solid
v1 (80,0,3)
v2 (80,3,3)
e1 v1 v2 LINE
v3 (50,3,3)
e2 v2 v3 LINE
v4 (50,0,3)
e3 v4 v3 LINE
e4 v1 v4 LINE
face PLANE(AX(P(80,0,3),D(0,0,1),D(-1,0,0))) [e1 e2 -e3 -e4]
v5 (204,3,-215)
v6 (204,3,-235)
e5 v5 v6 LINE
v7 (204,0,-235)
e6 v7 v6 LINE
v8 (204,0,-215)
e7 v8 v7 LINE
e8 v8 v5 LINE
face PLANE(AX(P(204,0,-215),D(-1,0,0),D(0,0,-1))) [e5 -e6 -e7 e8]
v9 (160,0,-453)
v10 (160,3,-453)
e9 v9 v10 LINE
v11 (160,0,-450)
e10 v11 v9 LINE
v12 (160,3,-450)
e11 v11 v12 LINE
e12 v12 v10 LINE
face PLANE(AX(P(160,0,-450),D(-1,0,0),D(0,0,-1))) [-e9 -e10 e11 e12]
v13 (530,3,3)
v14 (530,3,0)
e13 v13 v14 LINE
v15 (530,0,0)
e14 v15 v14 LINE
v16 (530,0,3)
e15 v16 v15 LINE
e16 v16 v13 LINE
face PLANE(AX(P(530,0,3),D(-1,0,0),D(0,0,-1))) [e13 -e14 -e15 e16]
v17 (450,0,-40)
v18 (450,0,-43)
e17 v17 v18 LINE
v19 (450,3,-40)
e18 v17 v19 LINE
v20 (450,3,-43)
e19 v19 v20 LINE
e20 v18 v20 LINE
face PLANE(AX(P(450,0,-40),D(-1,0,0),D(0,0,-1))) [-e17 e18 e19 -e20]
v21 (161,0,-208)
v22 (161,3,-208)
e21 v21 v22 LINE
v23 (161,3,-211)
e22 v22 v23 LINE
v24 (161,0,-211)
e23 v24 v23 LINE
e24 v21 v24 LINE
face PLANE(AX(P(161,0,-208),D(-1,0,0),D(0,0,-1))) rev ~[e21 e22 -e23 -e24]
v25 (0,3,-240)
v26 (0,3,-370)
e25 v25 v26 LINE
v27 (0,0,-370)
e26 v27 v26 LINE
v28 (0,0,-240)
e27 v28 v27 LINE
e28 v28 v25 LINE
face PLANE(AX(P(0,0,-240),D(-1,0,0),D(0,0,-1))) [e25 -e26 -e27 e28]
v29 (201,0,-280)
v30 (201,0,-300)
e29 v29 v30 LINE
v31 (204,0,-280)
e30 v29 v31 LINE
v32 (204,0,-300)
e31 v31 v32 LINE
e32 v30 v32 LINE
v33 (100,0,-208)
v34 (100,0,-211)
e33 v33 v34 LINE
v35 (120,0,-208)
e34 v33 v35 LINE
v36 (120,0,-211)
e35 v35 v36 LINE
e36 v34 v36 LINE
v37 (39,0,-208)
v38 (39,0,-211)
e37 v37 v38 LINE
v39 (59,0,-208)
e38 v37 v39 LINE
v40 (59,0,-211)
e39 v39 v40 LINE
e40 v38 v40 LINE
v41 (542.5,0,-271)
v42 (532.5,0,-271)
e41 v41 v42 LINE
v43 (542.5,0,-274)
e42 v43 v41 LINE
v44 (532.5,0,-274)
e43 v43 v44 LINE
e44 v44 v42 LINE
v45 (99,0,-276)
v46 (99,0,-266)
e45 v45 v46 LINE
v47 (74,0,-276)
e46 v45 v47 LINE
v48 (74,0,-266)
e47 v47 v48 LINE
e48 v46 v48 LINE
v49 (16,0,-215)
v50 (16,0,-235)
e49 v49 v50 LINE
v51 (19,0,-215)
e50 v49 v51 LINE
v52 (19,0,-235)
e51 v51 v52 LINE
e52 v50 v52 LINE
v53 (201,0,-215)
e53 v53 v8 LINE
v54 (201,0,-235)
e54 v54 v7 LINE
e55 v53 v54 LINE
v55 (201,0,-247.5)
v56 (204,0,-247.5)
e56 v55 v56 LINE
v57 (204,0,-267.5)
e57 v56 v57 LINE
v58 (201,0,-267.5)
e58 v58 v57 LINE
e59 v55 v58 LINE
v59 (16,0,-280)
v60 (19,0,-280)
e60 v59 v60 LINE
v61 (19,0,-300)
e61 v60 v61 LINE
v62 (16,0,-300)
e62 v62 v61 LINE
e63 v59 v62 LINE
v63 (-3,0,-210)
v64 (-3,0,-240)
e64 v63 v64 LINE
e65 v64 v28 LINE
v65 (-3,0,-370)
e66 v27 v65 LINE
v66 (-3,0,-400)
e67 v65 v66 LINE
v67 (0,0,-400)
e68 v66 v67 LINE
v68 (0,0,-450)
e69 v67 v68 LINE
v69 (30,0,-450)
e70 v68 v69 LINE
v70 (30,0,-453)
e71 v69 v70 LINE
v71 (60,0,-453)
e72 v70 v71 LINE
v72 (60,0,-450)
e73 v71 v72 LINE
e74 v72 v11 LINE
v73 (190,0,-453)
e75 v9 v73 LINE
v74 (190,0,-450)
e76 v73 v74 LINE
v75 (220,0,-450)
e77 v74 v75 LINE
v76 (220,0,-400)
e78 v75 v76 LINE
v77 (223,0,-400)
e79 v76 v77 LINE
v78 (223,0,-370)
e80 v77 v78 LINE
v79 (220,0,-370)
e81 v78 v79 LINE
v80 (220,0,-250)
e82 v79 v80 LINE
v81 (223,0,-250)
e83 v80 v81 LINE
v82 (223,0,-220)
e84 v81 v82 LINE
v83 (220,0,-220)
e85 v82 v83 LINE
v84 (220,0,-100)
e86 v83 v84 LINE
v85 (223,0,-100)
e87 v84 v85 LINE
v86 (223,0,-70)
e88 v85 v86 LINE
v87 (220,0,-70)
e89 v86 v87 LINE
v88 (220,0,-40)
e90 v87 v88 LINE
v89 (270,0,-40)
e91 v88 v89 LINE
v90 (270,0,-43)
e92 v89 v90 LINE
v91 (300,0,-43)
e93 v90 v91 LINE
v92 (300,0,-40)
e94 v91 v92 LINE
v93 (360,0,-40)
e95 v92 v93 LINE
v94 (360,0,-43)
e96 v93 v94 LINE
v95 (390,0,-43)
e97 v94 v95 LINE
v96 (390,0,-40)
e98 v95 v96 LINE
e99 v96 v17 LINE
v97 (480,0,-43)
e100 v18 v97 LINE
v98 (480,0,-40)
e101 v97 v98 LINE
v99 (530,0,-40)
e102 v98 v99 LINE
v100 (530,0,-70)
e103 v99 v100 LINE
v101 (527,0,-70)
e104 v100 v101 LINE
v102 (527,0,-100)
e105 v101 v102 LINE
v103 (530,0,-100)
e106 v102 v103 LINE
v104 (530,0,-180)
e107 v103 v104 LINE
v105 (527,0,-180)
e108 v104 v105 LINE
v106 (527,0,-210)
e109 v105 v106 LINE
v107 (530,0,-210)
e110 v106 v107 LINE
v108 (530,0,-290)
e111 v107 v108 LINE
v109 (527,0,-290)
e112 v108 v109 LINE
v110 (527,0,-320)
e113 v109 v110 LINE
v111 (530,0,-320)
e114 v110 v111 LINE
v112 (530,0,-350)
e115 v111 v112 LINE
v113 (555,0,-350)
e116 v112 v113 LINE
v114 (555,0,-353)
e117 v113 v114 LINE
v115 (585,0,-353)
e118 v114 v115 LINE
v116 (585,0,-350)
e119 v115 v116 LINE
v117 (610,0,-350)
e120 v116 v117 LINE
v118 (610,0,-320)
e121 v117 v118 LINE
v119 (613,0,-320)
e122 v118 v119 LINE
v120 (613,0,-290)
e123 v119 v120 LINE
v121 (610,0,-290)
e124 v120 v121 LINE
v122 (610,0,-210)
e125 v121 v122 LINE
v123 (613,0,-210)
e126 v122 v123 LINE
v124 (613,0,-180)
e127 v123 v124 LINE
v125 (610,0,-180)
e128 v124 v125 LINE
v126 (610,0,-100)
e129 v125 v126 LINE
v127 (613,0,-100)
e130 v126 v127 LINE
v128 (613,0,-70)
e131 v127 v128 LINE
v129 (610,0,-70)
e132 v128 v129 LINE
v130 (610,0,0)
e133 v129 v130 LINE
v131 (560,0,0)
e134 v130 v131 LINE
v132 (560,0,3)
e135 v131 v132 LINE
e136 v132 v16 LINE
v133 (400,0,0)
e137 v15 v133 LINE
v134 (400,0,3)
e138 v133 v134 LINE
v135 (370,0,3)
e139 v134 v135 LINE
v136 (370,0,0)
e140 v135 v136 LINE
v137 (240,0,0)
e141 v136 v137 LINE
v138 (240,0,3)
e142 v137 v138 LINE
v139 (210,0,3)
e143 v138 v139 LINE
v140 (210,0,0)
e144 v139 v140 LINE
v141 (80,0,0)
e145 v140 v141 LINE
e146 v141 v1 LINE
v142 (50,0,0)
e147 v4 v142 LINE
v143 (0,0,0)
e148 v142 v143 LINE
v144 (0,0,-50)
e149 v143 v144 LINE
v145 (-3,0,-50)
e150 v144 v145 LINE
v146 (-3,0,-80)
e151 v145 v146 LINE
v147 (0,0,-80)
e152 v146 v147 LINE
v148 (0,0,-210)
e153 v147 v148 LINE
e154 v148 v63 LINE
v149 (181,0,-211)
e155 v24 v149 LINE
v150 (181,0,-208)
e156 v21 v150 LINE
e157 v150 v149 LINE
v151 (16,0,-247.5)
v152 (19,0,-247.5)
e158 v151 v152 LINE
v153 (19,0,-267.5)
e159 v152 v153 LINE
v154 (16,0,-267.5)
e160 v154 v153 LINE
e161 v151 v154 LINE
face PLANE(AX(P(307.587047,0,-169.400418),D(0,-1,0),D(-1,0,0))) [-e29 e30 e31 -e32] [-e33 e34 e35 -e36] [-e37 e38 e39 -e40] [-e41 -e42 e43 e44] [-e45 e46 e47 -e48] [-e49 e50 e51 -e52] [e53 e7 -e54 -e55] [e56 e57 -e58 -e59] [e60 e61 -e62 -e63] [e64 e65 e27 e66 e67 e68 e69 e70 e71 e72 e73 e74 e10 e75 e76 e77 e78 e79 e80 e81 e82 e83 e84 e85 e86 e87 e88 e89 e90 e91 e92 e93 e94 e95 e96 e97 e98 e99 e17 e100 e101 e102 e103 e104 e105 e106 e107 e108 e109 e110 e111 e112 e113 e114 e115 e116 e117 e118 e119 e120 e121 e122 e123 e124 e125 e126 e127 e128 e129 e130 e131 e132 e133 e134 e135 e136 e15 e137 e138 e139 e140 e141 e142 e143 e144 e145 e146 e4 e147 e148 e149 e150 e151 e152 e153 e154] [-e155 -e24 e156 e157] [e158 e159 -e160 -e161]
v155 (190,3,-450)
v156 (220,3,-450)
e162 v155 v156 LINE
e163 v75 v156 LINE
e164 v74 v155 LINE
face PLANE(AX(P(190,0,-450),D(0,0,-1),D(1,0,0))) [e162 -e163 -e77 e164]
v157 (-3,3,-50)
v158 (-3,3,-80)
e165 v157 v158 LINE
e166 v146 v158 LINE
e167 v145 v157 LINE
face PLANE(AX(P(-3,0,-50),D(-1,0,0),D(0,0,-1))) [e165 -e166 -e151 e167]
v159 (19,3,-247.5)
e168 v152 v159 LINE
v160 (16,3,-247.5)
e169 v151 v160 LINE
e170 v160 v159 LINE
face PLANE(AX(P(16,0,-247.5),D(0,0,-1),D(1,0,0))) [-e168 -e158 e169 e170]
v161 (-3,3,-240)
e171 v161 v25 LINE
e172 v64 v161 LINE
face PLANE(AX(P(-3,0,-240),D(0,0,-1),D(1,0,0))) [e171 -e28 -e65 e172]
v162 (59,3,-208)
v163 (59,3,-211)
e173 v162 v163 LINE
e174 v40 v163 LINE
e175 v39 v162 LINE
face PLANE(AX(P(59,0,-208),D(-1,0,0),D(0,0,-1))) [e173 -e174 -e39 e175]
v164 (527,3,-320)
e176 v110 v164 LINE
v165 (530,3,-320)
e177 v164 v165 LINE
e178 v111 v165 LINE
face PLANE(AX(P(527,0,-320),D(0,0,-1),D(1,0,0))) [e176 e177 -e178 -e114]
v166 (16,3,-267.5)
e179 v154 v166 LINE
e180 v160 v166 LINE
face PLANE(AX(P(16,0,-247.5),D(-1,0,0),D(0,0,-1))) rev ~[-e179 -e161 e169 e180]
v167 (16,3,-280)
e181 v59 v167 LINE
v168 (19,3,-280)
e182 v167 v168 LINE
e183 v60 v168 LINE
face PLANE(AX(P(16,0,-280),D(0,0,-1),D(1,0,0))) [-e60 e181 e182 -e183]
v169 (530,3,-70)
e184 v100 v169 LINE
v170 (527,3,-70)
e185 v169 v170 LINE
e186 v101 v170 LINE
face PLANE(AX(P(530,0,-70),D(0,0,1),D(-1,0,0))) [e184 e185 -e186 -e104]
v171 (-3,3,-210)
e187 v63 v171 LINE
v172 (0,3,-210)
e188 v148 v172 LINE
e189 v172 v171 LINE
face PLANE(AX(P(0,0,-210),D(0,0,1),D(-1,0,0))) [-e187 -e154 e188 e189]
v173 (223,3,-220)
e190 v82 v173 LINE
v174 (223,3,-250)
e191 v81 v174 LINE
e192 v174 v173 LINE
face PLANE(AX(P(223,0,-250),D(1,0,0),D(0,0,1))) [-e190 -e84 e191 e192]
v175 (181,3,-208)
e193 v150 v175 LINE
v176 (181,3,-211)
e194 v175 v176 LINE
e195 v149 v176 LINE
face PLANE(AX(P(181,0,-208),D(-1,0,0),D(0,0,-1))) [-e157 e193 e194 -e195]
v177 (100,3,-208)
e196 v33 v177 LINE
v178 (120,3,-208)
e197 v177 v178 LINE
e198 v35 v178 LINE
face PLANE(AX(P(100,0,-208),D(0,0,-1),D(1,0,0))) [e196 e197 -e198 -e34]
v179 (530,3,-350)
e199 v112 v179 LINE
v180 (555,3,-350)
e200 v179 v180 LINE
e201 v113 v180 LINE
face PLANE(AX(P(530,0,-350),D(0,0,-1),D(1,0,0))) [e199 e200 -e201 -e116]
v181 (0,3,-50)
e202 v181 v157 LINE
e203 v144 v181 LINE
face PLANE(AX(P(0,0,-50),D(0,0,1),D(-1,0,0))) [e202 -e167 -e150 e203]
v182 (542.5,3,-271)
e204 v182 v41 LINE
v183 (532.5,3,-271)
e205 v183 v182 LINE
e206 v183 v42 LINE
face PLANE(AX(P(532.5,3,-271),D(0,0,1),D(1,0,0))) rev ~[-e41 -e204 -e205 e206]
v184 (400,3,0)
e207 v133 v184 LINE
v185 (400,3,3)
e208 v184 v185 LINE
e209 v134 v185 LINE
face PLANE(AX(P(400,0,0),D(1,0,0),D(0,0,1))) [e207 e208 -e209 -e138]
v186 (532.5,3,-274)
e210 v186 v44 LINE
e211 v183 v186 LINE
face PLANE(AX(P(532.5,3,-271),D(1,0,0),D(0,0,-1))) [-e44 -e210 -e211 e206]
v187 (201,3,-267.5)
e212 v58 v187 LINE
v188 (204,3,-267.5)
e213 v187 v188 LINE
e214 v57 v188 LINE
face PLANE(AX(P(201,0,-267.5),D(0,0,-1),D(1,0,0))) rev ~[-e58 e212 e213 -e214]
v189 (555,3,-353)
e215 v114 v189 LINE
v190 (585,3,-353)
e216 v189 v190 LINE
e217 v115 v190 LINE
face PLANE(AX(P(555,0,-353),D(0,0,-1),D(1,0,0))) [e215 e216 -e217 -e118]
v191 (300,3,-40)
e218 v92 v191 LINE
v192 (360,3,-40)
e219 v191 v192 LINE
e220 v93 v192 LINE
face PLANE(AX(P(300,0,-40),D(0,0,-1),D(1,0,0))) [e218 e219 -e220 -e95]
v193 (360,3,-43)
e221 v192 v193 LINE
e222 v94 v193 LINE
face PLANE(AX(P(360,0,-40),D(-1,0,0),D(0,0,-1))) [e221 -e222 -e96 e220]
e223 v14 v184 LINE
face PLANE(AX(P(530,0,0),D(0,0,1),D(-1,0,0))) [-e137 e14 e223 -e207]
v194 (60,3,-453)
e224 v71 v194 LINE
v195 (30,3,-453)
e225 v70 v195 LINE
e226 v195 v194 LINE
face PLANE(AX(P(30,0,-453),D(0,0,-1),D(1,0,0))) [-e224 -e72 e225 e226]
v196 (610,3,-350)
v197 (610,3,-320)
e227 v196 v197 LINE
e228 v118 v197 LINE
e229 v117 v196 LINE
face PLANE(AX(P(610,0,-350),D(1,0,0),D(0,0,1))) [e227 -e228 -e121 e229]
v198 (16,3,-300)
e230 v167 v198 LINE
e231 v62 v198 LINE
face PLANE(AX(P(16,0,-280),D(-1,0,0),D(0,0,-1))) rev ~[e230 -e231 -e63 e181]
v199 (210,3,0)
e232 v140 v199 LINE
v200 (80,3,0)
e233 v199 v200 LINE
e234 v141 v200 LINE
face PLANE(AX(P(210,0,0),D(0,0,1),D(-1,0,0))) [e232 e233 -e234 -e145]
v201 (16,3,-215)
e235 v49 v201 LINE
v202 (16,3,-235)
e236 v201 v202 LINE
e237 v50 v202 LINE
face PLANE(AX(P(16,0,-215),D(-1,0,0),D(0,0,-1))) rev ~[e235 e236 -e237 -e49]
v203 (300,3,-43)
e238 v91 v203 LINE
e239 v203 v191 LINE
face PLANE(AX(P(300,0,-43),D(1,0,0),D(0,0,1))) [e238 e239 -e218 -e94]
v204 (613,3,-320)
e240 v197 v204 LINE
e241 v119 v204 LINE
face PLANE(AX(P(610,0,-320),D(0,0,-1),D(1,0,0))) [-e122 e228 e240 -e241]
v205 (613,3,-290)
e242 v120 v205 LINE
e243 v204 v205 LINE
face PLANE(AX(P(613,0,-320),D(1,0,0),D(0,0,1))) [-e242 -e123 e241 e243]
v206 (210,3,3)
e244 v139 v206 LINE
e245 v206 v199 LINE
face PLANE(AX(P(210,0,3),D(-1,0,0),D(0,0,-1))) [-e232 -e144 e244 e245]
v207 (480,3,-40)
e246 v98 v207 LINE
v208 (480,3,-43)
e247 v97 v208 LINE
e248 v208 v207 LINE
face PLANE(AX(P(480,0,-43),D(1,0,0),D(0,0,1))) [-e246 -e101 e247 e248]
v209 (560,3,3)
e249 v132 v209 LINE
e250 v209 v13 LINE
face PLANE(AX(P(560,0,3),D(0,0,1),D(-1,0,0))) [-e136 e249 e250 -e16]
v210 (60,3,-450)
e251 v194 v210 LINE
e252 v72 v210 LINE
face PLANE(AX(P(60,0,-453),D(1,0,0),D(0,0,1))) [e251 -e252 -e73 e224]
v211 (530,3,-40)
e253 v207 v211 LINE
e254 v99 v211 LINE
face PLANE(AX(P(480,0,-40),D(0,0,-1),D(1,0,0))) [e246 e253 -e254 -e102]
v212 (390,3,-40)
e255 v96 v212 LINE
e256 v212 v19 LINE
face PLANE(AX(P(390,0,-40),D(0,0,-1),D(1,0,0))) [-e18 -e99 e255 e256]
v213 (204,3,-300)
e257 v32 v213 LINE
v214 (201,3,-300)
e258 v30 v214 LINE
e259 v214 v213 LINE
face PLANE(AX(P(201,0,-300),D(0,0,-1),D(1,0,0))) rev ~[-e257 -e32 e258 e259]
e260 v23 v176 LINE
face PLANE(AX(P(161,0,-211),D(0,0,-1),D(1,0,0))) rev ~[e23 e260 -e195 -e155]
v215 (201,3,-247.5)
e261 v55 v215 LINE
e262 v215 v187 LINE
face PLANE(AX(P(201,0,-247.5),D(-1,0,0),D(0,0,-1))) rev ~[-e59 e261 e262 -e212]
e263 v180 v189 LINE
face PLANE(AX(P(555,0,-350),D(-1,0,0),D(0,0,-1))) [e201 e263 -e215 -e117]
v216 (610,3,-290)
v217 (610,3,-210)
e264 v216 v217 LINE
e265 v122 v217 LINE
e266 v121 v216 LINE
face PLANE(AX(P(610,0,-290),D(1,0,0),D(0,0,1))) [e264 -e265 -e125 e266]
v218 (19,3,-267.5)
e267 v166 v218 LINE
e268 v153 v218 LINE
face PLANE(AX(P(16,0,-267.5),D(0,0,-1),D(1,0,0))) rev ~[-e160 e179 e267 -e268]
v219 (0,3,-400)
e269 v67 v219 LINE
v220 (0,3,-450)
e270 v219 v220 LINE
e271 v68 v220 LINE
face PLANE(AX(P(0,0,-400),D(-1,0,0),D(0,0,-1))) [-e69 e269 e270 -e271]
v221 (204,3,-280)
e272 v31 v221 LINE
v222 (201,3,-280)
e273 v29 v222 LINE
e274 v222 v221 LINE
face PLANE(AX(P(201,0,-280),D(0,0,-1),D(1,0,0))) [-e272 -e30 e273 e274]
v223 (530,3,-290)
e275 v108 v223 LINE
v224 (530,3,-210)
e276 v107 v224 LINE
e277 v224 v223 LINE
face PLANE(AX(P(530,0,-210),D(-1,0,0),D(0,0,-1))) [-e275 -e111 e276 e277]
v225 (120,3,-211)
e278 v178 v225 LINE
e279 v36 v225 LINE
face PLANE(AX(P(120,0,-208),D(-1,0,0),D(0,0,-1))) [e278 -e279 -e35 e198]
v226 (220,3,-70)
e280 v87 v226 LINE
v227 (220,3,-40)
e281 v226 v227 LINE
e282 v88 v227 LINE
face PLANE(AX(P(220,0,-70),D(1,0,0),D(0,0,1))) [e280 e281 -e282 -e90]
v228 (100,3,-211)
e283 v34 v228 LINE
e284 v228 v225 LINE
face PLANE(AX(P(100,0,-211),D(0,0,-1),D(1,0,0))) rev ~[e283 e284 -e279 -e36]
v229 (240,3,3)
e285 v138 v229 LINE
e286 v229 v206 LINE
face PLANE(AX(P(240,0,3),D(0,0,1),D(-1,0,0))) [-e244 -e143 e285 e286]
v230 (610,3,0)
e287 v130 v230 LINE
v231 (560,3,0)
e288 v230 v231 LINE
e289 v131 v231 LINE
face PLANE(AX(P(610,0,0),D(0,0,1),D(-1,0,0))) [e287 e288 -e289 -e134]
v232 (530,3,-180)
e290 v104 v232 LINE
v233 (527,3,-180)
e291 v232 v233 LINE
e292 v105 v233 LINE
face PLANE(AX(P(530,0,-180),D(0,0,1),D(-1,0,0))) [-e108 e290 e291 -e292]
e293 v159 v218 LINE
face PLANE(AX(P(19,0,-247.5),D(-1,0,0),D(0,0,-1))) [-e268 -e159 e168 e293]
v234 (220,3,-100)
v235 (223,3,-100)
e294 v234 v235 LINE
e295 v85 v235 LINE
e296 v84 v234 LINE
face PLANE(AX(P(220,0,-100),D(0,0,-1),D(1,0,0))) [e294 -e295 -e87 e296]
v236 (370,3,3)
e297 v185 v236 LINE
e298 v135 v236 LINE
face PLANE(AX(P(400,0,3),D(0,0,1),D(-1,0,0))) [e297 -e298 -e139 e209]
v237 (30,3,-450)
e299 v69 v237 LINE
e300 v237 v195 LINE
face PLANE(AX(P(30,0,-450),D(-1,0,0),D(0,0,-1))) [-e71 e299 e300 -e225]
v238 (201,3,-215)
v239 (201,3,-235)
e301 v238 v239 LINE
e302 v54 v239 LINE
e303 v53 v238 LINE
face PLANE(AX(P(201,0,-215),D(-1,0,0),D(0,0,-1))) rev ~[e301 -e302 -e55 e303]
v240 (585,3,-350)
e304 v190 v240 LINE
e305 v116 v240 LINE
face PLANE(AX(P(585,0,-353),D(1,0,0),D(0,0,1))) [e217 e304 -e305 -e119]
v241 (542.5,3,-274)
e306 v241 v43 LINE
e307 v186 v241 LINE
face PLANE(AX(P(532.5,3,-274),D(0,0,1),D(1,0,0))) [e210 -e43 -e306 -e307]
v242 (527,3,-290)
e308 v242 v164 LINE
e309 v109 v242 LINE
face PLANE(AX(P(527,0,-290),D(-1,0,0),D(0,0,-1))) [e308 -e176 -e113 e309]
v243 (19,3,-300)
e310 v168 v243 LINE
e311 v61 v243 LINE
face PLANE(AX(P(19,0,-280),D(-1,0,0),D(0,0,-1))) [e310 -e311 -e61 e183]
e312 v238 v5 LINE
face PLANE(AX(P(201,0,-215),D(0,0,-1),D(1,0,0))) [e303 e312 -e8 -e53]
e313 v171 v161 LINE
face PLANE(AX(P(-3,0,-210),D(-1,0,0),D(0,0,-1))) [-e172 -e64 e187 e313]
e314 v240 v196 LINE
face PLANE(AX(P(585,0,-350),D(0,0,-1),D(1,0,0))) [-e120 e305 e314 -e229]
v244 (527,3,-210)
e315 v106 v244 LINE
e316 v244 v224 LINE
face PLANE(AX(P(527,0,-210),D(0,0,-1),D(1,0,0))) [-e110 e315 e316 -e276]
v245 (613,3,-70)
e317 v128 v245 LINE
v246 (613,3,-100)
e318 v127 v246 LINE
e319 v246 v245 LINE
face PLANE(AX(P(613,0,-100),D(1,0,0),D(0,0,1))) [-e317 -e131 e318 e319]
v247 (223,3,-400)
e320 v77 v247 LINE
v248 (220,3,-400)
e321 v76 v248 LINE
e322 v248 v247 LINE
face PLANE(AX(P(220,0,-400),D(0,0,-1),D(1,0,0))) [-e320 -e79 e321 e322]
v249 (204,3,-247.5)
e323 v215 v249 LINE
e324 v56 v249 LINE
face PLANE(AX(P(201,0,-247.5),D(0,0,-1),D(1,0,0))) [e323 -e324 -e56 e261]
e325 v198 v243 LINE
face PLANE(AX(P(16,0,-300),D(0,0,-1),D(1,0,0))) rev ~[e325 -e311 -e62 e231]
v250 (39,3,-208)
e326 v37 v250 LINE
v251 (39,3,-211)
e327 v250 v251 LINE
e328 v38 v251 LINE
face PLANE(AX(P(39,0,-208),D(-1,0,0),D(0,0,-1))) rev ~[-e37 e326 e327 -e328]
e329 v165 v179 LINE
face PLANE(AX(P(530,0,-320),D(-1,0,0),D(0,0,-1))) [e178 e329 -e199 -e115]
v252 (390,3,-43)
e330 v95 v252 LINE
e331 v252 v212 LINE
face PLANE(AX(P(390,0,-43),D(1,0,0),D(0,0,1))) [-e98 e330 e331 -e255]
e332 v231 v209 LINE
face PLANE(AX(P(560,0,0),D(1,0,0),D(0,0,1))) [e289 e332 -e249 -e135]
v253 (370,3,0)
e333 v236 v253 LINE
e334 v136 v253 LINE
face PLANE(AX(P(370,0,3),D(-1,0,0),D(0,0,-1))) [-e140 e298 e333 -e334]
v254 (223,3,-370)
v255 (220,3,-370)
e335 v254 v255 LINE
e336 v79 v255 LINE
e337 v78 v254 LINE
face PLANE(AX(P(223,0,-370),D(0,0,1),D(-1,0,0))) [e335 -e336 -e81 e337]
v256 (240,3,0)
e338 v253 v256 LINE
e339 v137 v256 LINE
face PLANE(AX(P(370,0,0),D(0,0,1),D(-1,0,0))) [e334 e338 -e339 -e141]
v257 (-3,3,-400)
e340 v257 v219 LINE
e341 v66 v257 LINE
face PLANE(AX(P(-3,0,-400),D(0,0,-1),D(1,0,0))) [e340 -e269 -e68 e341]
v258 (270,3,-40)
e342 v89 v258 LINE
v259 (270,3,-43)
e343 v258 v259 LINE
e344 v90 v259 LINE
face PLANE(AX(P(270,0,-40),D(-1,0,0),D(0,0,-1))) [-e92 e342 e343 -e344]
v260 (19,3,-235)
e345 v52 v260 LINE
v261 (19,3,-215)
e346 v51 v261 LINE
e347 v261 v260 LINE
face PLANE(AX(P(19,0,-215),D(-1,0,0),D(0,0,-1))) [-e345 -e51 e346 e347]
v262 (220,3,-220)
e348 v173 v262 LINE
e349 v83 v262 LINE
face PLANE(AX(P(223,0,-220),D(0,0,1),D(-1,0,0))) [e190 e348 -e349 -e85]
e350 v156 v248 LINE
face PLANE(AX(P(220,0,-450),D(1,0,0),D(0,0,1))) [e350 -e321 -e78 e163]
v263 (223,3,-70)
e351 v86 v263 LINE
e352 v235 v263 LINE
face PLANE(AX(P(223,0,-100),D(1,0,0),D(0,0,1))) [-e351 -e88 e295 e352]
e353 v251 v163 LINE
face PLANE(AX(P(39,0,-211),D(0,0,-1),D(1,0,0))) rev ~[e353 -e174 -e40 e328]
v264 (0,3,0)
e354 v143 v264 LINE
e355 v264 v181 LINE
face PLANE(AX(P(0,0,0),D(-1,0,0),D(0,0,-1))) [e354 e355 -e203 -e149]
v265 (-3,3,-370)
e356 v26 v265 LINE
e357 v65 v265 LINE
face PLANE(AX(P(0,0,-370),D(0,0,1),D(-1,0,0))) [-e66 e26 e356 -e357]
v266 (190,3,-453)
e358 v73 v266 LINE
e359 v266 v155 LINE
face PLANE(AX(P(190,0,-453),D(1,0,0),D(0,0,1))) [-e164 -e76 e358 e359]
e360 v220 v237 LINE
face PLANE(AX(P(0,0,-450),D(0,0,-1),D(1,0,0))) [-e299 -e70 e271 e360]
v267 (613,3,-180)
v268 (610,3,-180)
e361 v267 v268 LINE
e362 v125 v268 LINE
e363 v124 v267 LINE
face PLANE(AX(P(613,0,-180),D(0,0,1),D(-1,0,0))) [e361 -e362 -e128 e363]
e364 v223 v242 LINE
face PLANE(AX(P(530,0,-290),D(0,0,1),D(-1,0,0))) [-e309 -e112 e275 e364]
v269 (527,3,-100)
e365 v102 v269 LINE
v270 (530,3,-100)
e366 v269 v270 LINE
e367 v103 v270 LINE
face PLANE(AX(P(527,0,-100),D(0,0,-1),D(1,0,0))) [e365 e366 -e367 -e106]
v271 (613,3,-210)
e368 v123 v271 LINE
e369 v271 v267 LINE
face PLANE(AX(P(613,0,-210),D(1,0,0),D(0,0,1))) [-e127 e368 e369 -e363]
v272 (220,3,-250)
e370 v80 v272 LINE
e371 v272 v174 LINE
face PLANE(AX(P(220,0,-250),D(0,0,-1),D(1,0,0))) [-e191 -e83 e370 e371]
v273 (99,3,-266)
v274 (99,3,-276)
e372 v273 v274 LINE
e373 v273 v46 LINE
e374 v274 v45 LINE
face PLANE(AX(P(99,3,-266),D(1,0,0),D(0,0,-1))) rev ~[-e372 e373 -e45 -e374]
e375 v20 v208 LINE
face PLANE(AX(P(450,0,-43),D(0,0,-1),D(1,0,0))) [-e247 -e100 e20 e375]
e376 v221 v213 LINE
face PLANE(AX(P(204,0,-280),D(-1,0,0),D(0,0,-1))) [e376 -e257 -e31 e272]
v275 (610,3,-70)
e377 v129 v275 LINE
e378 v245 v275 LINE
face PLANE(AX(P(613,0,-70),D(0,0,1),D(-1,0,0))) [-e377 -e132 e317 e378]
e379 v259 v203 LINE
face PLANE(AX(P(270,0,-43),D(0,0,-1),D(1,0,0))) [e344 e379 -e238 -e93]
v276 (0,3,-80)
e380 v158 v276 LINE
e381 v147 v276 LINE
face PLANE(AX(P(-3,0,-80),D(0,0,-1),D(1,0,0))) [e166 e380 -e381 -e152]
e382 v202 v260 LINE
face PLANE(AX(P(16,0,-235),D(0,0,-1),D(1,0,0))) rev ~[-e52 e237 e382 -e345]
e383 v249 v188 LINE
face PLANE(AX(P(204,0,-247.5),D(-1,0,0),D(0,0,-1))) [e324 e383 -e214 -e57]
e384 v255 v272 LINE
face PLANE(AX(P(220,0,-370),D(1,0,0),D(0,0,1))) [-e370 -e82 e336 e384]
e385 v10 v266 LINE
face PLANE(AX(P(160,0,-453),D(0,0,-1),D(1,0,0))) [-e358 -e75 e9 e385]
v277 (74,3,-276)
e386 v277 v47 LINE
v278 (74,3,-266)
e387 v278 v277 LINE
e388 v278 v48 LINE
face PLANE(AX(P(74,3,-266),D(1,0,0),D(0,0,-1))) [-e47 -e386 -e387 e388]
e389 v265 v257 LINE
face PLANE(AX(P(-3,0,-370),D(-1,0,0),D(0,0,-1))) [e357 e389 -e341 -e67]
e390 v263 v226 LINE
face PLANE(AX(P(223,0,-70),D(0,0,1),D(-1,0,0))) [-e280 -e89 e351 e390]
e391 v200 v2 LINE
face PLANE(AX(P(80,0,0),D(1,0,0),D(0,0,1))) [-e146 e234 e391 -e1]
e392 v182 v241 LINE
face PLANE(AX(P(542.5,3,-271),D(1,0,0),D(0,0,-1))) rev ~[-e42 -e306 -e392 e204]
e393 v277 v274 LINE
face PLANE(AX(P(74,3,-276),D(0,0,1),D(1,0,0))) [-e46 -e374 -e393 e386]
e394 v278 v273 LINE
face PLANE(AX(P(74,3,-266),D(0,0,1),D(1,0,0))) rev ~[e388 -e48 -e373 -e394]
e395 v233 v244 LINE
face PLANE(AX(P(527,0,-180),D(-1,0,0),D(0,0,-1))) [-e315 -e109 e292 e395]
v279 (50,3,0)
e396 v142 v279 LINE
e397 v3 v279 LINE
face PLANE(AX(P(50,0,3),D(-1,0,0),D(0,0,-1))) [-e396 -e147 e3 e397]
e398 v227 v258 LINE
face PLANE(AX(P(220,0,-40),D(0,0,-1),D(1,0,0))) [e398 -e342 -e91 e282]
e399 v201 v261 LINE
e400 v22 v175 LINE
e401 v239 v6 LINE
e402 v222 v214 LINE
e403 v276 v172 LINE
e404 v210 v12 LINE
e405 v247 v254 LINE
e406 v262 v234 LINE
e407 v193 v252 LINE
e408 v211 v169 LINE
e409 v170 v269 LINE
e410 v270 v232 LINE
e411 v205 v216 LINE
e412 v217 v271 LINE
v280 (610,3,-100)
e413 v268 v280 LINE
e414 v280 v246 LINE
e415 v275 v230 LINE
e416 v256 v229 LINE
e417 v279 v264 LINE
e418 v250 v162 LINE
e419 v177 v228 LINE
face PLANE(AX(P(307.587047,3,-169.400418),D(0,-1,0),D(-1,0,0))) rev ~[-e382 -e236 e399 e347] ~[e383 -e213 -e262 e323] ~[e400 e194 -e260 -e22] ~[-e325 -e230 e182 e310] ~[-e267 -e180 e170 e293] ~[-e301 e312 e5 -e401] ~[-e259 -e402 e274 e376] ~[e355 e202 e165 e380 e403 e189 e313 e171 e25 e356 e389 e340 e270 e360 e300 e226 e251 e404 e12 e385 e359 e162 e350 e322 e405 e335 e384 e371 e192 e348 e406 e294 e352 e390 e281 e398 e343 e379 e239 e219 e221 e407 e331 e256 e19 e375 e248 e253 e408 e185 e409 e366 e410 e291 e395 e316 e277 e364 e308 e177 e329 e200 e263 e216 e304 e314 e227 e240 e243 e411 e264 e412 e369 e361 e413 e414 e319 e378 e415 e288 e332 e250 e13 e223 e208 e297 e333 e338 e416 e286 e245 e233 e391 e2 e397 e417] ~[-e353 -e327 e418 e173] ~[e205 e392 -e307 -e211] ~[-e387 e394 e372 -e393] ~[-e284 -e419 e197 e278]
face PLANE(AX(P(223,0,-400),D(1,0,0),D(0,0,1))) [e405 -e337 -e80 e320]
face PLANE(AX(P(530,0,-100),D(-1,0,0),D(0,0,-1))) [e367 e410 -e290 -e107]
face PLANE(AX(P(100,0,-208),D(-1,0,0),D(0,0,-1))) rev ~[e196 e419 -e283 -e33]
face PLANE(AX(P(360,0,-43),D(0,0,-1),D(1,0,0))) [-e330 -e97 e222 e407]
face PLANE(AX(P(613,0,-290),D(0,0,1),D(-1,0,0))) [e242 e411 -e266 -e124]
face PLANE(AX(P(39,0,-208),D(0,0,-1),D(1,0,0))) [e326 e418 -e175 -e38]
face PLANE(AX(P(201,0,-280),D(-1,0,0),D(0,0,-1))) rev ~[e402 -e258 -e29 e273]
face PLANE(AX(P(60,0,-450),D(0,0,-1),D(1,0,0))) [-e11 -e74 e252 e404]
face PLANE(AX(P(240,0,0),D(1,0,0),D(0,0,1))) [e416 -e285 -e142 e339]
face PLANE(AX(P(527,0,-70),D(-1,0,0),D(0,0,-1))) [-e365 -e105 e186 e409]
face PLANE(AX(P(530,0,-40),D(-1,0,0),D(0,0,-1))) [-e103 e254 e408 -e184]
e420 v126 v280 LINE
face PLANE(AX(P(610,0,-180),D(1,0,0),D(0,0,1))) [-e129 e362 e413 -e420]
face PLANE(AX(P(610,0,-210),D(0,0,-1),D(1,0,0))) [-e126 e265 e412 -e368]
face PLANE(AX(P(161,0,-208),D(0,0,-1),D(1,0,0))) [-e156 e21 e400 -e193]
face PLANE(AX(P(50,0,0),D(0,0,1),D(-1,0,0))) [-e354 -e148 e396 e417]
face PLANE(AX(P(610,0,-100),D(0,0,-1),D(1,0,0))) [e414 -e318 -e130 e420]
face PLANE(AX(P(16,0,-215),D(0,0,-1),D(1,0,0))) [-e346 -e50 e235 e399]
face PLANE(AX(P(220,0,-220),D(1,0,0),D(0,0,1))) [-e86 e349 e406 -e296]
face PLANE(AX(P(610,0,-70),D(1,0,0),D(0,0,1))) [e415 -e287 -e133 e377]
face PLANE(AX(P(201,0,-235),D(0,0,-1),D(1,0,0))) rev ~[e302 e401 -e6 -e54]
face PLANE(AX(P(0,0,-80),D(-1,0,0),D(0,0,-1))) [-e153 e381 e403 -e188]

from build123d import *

# Parameters (mm, degrees)
SKETCH1_W           = 20
SKETCH1_H           = 3
SKETCH1_W_2         = 3
SKETCH1_H_2         = 20
BOSS_EXTRUDE1_DEPTH = 3
SKETCH2_W           = 10
SKETCH2_H           = 3
SKETCH2_W_2         = 25
SKETCH2_H_2         = 10
CUT_EXTRUDE1_DEPTH  = 10


with BuildPart() as part:
    # Sketch1 → Boss-Extrude1 (new body)
    with BuildSketch(Plane(origin=(0, 0, 0), x_dir=(1, 0, 0), z_dir=(0, 1, 0))):
        Polygon((0, 50), (0, 0), (50, 0), (50, -3), (80, -3), (80, 0), (210, 0), (210, -3), (240, -3), (240, 0), (370, 0), (370, -3), (400, -3), (400, 0), (530, 0), (530, -3), (560, -3), (560, 0), (610, 0), (610, 70), (613, 70), (613, 100), (610, 100), (610, 180), (613, 180), (613, 210), (610, 210), (610, 290), (613, 290), (613, 320), (610, 320), (610, 350), (585, 350), (585, 353), (555, 353), (555, 350), (530, 350), (530, 320), (527, 320), (527, 290), (530, 290), (530, 210), (527, 210), (527, 180), (530, 180), (530, 100), (527, 100), (527, 70), (530, 70), (530, 40), (480, 40), (480, 43), (450, 43), (450, 40), (390, 40), (390, 43), (360, 43), (360, 40), (300, 40), (300, 43), (270, 43), (270, 40), (220, 40), (220, 70), (223, 70), (223, 100), (220, 100), (220, 220), (223, 220), (223, 250), (220, 250), (220, 370), (223, 370), (223, 400), (220, 400), (220, 450), (190, 450), (190, 453), (160, 453), (160, 450), (60, 450), (60, 453), (30, 453), (30, 450), (0, 450), (0, 400), (-3, 400), (-3, 370), (0, 370), (0, 240), (-3, 240), (-3, 210), (0, 210), (0, 80), (-3, 80), (-3, 50), align=None)
        with Locations((49, 209.5)):
            Rectangle(SKETCH1_W, SKETCH1_H, mode=Mode.SUBTRACT)
        with Locations((110, 209.5)):
            Rectangle(SKETCH1_W, SKETCH1_H, mode=Mode.SUBTRACT)
        with Locations((171, 209.5)):
            Rectangle(SKETCH1_W, SKETCH1_H, mode=Mode.SUBTRACT)
        with Locations((17.5, 225)):
            Rectangle(SKETCH1_W_2, SKETCH1_H_2, mode=Mode.SUBTRACT)
        with Locations((17.5, 257.5)):
            Rectangle(SKETCH1_W_2, SKETCH1_H_2, mode=Mode.SUBTRACT)
        with Locations((17.5, 290)):
            Rectangle(SKETCH1_W_2, SKETCH1_H_2, mode=Mode.SUBTRACT)
        with Locations((202.5, 225)):
            Rectangle(SKETCH1_W_2, SKETCH1_H_2, mode=Mode.SUBTRACT)
        with Locations((202.5, 257.5)):
            Rectangle(SKETCH1_W_2, SKETCH1_H_2, mode=Mode.SUBTRACT)
        with Locations((202.5, 290)):
            Rectangle(SKETCH1_W_2, SKETCH1_H_2, mode=Mode.SUBTRACT)
    extrude(amount=BOSS_EXTRUDE1_DEPTH)

    # Sketch2 → Cut-Extrude1 (cut)
    with BuildSketch(Plane(origin=(0, 3, 0), x_dir=(1, 0, 0), z_dir=(0, 1, 0))):
        with Locations((537.5, 272.5)):
            Rectangle(SKETCH2_W, SKETCH2_H)
        with Locations((86.5, 271)):
            Rectangle(SKETCH2_W_2, SKETCH2_H_2)
    extrude(amount=-CUT_EXTRUDE1_DEPTH, mode=Mode.SUBTRACT)


solid = part.part
